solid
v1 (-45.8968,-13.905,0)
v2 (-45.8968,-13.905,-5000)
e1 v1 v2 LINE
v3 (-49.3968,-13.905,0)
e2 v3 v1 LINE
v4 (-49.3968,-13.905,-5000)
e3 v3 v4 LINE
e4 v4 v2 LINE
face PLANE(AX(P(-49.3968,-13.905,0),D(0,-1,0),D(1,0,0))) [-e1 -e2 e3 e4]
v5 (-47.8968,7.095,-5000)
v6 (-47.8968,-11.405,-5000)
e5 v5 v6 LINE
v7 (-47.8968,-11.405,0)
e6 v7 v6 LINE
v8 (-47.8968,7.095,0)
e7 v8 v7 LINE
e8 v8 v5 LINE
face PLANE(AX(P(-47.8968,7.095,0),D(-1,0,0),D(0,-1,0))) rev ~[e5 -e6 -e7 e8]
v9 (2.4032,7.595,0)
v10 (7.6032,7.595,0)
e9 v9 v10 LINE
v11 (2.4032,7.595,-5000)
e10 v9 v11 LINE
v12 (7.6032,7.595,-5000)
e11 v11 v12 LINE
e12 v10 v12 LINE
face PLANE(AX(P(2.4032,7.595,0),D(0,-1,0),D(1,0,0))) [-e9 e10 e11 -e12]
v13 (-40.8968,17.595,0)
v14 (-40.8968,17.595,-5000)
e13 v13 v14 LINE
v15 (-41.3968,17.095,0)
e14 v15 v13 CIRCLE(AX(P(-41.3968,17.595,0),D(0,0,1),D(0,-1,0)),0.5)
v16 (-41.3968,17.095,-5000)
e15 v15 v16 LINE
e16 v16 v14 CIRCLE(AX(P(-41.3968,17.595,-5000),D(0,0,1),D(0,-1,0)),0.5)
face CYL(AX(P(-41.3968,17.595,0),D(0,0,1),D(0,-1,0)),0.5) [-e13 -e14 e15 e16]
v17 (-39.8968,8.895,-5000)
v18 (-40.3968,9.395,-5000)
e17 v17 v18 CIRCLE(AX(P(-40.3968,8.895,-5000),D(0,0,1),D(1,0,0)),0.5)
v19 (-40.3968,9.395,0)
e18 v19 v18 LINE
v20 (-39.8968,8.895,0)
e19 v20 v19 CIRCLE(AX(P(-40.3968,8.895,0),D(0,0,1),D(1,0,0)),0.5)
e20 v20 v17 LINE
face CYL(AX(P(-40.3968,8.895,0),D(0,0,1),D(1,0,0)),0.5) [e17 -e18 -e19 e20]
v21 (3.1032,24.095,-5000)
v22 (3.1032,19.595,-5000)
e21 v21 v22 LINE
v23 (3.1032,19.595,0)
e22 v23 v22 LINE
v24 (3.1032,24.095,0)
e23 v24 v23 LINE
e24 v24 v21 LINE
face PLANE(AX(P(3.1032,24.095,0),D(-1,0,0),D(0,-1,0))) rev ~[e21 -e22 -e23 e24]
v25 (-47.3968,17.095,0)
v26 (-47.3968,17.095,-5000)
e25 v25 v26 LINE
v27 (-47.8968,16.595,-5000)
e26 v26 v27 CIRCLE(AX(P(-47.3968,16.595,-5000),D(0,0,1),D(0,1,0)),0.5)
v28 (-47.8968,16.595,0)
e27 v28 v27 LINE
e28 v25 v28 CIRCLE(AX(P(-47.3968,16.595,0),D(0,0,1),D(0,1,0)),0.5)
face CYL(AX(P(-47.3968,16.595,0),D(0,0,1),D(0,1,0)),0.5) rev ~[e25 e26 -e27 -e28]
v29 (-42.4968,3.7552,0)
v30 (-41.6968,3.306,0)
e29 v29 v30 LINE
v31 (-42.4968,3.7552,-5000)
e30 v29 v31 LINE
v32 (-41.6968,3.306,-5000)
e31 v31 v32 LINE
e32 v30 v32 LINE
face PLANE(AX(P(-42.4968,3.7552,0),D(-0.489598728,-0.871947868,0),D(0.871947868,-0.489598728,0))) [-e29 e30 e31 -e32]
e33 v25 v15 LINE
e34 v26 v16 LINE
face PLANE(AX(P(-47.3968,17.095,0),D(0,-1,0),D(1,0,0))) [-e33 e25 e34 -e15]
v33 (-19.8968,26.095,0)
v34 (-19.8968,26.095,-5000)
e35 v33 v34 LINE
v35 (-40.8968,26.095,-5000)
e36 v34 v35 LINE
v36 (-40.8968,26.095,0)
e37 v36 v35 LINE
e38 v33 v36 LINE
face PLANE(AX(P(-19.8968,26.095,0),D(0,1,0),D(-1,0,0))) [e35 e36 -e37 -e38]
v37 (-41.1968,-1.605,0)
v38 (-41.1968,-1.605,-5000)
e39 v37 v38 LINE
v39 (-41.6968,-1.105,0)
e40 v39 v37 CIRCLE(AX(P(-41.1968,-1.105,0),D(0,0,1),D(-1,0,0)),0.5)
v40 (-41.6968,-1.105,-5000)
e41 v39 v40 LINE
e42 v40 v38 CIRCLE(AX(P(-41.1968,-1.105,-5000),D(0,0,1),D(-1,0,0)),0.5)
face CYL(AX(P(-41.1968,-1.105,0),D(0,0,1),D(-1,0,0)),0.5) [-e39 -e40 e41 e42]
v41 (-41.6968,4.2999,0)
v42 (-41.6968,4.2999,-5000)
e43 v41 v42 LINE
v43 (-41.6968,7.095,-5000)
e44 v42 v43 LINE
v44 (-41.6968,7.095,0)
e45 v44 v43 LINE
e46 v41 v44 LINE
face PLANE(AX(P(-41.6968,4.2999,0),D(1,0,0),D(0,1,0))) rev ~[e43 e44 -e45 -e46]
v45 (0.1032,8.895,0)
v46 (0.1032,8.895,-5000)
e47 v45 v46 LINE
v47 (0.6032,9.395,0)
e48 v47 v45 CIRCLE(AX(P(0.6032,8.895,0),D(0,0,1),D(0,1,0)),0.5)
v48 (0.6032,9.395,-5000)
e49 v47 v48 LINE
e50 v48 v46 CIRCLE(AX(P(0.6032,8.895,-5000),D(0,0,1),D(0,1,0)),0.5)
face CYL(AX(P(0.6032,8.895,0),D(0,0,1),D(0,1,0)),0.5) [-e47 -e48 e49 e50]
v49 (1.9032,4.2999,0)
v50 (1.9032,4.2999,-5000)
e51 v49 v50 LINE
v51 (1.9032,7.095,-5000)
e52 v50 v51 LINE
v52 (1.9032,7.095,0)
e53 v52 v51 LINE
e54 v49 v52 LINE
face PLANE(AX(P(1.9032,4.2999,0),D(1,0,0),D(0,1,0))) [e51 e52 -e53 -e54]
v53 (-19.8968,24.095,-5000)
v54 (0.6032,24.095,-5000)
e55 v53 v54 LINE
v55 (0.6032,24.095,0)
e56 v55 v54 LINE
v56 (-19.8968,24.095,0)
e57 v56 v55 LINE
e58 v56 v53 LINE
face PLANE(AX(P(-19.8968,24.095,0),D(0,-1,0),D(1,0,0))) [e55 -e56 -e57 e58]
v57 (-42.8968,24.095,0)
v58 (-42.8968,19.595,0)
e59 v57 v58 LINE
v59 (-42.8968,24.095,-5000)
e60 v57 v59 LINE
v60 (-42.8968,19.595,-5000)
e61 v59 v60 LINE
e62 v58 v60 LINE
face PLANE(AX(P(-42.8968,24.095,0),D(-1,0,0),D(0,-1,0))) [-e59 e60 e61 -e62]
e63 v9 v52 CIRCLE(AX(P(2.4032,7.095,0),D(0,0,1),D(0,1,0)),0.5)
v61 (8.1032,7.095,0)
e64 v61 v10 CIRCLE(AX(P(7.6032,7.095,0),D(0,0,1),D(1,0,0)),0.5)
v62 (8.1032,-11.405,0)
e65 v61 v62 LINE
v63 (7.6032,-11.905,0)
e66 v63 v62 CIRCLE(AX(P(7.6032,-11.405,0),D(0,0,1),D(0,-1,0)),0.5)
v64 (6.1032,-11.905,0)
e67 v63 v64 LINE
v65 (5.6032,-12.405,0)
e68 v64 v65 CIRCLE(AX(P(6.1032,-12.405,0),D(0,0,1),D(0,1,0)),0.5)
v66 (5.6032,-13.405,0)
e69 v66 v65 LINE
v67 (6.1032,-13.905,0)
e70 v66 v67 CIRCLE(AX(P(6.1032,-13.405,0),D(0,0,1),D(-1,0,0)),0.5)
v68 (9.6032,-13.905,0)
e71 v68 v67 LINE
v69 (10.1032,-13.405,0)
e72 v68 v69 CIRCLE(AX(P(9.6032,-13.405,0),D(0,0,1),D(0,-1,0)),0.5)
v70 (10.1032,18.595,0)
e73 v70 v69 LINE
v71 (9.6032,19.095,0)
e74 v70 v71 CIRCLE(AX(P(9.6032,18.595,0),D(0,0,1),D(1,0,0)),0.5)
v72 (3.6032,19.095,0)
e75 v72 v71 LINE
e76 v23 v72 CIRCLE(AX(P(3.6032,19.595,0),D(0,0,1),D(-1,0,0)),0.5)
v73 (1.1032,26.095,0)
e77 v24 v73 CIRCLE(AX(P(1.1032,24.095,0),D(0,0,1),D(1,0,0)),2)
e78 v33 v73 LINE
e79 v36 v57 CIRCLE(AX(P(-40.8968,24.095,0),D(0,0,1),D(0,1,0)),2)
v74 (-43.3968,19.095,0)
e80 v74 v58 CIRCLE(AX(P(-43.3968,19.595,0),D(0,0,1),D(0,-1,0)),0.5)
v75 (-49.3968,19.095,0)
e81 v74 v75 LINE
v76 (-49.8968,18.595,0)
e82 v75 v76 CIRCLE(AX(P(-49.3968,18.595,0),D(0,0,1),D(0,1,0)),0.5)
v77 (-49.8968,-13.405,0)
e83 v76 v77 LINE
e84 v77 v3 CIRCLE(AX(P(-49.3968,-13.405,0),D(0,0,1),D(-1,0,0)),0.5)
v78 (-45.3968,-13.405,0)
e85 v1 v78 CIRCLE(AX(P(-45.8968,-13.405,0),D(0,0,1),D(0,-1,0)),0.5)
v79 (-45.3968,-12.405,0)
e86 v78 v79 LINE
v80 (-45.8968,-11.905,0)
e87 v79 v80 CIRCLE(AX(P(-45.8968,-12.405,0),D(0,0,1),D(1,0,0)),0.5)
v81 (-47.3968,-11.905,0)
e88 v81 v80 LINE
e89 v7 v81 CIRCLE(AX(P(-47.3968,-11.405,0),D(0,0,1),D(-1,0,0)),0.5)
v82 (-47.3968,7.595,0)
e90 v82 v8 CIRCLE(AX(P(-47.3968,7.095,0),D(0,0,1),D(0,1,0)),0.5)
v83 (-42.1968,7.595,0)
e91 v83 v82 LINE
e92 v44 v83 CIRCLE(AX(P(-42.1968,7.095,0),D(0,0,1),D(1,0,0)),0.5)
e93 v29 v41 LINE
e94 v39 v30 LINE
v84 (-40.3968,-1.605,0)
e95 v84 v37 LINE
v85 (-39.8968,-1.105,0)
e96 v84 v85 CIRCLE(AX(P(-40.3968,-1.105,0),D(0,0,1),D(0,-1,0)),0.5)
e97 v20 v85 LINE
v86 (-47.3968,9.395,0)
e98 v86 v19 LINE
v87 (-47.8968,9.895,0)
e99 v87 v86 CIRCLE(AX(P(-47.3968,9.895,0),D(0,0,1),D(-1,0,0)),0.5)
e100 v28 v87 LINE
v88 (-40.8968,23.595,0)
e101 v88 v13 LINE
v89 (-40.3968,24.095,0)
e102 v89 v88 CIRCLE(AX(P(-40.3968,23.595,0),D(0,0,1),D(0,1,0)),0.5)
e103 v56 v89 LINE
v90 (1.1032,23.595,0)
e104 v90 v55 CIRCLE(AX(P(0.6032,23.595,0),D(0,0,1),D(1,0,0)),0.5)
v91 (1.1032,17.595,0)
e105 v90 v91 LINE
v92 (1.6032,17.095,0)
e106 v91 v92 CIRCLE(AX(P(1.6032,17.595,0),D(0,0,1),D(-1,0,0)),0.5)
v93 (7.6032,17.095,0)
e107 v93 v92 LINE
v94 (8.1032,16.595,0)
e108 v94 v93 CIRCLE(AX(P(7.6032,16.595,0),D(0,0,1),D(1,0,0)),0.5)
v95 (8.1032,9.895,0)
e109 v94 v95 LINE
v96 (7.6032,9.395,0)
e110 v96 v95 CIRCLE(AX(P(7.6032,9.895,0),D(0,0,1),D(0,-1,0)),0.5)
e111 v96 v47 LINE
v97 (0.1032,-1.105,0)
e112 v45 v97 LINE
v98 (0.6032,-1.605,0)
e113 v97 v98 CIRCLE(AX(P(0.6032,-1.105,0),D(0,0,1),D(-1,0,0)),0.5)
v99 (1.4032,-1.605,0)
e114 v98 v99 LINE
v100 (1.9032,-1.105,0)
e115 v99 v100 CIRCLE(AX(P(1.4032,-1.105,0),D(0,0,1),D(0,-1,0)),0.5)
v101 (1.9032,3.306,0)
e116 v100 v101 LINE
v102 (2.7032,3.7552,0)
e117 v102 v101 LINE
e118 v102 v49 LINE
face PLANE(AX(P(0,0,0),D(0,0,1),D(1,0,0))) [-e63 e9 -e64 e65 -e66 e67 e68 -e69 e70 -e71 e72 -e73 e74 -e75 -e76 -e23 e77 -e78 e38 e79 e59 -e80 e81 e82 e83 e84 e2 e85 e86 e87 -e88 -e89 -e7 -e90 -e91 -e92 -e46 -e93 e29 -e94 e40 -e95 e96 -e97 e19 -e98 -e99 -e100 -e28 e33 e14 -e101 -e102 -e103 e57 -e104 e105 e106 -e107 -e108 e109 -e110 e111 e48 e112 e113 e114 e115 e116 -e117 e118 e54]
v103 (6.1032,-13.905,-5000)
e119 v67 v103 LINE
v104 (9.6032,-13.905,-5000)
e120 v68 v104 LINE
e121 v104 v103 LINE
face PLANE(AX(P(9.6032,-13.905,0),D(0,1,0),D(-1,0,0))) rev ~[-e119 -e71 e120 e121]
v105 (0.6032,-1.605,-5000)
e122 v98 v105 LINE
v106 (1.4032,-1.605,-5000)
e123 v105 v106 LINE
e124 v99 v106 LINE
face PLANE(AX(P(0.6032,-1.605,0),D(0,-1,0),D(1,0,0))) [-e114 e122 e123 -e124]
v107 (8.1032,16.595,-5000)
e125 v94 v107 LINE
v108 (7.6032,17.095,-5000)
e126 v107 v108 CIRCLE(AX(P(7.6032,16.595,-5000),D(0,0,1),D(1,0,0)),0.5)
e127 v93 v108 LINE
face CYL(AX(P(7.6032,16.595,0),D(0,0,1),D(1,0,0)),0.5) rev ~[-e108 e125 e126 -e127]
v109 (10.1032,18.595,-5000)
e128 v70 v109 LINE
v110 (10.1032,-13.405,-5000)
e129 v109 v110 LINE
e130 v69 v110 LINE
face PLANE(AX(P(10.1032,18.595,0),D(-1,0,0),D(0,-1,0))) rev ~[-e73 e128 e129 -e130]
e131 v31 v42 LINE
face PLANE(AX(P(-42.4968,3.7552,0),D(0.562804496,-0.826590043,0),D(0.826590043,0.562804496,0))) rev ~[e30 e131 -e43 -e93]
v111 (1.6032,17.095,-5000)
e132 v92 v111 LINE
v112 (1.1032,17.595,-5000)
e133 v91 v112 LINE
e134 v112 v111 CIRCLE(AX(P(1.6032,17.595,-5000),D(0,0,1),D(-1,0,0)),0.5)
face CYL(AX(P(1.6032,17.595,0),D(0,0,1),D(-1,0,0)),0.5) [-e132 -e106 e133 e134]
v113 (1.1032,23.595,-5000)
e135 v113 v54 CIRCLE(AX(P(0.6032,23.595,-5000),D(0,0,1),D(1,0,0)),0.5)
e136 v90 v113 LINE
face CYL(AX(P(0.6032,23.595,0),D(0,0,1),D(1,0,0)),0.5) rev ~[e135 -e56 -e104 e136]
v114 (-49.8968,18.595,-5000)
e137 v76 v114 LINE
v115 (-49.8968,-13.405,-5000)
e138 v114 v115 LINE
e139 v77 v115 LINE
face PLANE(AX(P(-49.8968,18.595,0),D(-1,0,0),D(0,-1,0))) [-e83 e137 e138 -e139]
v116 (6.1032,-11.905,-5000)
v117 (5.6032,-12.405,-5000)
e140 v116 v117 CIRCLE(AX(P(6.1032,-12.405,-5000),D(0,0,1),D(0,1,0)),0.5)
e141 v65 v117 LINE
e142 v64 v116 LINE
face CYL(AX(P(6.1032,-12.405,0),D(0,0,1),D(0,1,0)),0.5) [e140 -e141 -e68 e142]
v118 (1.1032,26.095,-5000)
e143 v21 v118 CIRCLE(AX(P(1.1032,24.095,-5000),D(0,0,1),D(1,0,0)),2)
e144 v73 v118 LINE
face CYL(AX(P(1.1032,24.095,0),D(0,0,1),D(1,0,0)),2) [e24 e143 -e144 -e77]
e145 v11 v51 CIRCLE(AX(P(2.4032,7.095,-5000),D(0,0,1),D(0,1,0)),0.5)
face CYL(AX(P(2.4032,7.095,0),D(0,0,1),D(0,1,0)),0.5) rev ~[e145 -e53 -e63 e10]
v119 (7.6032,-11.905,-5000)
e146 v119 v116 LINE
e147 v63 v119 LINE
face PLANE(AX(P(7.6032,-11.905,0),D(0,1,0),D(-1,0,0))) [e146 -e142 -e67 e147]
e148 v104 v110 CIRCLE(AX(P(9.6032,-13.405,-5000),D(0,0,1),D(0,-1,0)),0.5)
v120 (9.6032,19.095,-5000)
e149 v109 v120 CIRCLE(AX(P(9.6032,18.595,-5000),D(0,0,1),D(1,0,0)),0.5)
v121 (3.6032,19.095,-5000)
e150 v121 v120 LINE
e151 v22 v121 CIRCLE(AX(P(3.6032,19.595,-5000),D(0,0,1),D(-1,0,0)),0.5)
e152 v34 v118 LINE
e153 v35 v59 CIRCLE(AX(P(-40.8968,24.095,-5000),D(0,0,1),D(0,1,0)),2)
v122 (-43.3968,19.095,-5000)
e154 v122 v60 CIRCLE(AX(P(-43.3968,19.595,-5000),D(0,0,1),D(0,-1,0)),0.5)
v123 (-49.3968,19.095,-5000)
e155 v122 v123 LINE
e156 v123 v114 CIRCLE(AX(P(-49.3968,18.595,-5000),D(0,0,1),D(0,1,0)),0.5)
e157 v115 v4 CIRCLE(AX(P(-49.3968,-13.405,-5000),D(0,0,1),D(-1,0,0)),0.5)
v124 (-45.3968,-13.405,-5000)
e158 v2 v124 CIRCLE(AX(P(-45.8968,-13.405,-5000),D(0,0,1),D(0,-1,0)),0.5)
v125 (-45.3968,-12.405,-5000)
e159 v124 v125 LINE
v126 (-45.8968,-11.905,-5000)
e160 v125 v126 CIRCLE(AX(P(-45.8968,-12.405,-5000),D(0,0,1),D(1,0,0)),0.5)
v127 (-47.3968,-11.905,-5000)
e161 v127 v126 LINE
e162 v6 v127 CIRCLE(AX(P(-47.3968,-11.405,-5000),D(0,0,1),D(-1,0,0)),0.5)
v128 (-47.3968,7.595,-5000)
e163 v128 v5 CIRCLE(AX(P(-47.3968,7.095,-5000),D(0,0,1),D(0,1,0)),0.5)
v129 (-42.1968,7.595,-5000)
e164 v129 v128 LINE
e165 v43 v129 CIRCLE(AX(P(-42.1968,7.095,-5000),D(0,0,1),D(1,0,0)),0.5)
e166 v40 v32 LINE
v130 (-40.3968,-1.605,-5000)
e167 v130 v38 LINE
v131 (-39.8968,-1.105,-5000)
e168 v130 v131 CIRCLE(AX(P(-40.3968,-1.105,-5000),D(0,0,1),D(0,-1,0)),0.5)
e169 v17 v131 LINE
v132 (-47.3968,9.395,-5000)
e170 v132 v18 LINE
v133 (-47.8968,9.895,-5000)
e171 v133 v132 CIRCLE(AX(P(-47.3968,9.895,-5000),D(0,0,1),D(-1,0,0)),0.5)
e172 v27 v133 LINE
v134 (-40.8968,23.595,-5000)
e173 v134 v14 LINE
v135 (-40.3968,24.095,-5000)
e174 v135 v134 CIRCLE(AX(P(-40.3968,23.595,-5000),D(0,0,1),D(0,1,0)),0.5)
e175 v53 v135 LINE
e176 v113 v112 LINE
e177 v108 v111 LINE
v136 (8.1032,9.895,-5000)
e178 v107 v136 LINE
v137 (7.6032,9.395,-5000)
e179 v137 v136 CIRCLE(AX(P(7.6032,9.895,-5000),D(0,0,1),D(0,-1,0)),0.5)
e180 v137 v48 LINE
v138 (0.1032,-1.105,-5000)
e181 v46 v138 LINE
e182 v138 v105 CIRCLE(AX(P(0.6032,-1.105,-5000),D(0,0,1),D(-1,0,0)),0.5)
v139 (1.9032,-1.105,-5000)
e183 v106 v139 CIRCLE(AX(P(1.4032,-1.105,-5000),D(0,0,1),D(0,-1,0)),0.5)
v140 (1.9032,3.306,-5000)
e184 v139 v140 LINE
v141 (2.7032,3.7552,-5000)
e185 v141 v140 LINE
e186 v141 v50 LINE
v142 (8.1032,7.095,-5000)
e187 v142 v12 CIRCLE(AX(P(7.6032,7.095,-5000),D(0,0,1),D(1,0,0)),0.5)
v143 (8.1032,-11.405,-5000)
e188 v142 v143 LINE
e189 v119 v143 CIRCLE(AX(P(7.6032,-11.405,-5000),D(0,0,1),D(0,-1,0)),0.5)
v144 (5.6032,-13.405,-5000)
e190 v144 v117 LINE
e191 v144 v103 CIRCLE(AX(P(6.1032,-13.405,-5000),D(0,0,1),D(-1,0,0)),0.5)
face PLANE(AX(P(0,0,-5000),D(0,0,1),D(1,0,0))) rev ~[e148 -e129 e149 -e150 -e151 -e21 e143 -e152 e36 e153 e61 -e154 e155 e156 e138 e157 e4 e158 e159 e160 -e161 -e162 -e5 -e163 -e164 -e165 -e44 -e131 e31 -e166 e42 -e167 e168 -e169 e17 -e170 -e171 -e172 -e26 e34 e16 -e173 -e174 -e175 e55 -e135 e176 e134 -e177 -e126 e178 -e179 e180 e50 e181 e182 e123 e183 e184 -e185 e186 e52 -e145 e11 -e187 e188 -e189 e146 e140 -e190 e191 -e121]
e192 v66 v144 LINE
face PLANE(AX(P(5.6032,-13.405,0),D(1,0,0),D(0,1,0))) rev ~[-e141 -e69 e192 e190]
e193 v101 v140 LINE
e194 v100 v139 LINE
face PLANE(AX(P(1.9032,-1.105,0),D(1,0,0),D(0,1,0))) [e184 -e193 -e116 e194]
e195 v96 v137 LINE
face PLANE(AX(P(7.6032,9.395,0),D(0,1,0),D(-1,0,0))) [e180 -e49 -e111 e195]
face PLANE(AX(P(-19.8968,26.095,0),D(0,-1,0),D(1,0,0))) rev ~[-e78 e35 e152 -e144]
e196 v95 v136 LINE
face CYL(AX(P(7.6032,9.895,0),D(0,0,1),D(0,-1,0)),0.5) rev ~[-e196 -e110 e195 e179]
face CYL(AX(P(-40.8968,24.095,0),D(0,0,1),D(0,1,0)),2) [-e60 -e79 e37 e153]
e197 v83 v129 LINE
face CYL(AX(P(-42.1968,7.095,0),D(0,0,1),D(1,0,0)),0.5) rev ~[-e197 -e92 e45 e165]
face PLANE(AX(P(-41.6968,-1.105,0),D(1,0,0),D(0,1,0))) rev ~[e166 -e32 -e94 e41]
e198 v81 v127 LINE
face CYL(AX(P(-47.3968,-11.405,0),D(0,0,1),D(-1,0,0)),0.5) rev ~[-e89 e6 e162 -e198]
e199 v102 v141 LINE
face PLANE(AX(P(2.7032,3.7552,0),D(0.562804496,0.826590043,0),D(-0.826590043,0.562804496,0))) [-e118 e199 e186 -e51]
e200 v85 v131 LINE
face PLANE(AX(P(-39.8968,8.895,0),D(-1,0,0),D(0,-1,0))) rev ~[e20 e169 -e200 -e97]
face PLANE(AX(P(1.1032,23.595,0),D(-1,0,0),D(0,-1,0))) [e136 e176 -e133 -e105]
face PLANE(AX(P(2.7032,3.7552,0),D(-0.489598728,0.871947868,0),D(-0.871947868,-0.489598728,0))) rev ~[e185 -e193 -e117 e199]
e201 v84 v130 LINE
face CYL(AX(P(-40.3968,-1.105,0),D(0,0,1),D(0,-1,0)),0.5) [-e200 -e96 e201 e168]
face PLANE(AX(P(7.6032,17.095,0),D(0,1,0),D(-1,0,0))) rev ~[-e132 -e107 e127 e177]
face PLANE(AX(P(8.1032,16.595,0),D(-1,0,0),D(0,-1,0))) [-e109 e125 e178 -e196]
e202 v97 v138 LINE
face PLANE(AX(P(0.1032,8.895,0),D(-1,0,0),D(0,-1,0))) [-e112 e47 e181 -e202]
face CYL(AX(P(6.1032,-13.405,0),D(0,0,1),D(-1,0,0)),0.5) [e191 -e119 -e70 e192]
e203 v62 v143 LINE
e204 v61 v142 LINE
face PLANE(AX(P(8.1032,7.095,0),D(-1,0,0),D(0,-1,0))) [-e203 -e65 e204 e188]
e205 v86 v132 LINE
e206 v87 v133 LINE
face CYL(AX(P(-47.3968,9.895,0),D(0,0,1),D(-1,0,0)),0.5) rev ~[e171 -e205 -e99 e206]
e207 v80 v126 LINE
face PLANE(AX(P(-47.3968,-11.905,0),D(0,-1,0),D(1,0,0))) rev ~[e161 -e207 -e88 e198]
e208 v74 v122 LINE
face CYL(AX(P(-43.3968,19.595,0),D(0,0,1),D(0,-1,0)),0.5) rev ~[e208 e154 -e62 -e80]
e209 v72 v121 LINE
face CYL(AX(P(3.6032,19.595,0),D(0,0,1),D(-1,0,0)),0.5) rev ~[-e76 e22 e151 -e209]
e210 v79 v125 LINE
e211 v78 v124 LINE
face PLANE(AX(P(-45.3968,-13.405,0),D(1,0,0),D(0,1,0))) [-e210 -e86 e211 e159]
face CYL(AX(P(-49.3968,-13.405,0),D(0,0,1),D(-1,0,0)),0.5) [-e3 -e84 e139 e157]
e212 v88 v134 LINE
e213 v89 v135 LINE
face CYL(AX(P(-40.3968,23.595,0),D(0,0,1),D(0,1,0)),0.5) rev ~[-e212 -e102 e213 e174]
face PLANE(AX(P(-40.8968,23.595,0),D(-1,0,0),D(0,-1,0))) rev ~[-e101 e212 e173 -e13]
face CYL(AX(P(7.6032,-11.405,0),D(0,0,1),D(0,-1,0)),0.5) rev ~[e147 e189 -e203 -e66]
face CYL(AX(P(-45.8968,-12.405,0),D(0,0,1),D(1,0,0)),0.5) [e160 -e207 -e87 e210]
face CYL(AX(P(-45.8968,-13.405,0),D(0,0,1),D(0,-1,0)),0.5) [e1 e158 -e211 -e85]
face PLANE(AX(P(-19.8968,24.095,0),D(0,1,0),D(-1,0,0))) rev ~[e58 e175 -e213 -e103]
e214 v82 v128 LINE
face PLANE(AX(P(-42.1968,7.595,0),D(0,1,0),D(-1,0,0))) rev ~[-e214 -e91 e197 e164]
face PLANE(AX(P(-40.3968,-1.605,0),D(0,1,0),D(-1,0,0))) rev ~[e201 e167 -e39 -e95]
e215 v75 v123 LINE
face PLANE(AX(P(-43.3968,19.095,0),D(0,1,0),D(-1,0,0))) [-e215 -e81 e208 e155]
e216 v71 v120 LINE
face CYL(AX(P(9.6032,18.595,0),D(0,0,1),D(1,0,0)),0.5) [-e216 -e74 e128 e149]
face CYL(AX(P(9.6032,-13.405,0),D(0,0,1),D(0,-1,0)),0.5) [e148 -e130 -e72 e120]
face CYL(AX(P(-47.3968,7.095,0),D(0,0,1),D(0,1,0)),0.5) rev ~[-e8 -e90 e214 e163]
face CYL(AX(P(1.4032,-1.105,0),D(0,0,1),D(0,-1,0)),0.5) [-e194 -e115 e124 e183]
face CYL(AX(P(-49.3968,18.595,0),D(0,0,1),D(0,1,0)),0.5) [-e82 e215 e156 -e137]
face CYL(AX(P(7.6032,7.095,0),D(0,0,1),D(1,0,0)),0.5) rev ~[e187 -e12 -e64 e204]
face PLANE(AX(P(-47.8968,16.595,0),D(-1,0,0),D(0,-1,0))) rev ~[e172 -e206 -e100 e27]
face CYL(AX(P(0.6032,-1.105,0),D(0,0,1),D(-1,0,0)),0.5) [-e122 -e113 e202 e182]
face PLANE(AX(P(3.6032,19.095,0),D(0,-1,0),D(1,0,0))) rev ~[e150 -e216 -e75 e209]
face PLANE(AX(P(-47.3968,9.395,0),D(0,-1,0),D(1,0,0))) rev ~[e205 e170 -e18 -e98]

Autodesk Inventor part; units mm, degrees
ref_plane "YZ Plane" through (0, 0, 0) normal (1, 0, 0) x (0, 1, 0)
ref_plane "XZ Plane" through (0, 0, 0) normal (0, 1, 0) x (-1, 0, 0)
ref_plane "XY Plane" through (0, 0, 0) normal (0, 0, 1) x (1, 0, 0)
sketch "Sketch1" plane through (0, 0, 0) normal (0, 0, 1) x (1, 0, 0)
  line L0 (-19.8968, 26.095) -> (1.1032, 26.095)
  line L1 (10.1032, 18.595) -> (10.1032, -13.405)
  line L2 (9.6032, -13.905) -> (6.1032, -13.905)
  line L3 (-19.8968, 24.095) -> (0.6032, 24.095)
  line L4 (7.6032, -11.905) -> (6.1032, -11.905)
  line L5 (3.1032, 24.095) -> (3.1032, 19.595)
  line L6 (3.6032, 19.095) -> (9.6032, 19.095)
  line L7 (-19.8968, 31.6782) -> (-19.8968, -20.1233) construction
  line L8 (1.1032, 23.595) -> (1.1032, 17.595)
  line L9 (1.1032, 17.095) -> (1.1032, 17.095)
  line L10 (7.6032, 17.095) -> (1.6032, 17.095)
  line L11 (7.6032, 9.395) -> (0.6032, 9.395)
  line L12 (0.1032, 8.895) -> (0.1032, -1.105)
  line L13 (0.6032, -1.605) -> (1.4032, -1.605)
  line L14 (2.4032, 7.595) -> (7.6032, 7.595)
  line L15 (2.7032, 3.7552) -> (1.9032, 4.2999)
  line L16 (2.7032, 3.7552) -> (1.9032, 3.306)
  line L17 (1.9032, -1.105) -> (1.9032, 3.306)
  line L18 (1.9032, 4.2999) -> (1.9032, 7.095)
  line L19 (5.6032, -13.405) -> (5.6032, -12.405)
  line L20 (8.1032, 16.595) -> (8.1032, 9.895)
  line L21 (8.1032, 7.095) -> (8.1032, -11.405)
  arc A0 (3.1032, 24.095) -> (1.1032, 26.095) centre (1.1032, 24.095) ccw
  arc A1 (1.1032, 17.595) -> (1.6032, 17.095) centre (1.6032, 17.595) ccw
  arc A2 (3.1032, 19.595) -> (3.6032, 19.095) centre (3.6032, 19.595) ccw
  arc A3 (10.1032, 18.595) -> (9.6032, 19.095) centre (9.6032, 18.595) ccw
  arc A4 (7.6032, 9.395) -> (8.1032, 9.895) centre (7.6032, 9.895) ccw
  arc A5 (8.1032, 7.095) -> (7.6032, 7.595) centre (7.6032, 7.095) ccw
  arc A6 (0.6032, 9.395) -> (0.1032, 8.895) centre (0.6032, 8.895) ccw
  arc A7 (0.1032, -1.105) -> (0.6032, -1.605) centre (0.6032, -1.105) ccw
  arc A8 (1.4032, -1.605) -> (1.9032, -1.105) centre (1.4032, -1.105) ccw
  arc A9 (2.4032, 7.595) -> (1.9032, 7.095) centre (2.4032, 7.095) ccw
  arc A10 (8.1032, 16.595) -> (7.6032, 17.095) centre (7.6032, 16.595) ccw
  arc A11 (7.6032, -11.905) -> (8.1032, -11.405) centre (7.6032, -11.405) ccw
  arc A12 (6.1032, -11.905) -> (5.6032, -12.405) centre (6.1032, -12.405) ccw
  arc A13 (5.6032, -13.405) -> (6.1032, -13.905) centre (6.1032, -13.405) ccw
  arc A14 (9.6032, -13.905) -> (10.1032, -13.405) centre (9.6032, -13.405) ccw
  arc A15 (1.1032, 23.595) -> (0.6032, 24.095) centre (0.6032, 23.595) ccw
  line L22 (-19.8968, 26.095) -> (-40.8968, 26.095)
  line L23 (-49.8968, 18.595) -> (-49.8968, -13.405)
  line L24 (-49.3968, -13.905) -> (-45.8968, -13.905)
  line L25 (-19.8968, 24.095) -> (-40.3968, 24.095)
  line L26 (-47.3968, -11.905) -> (-45.8968, -11.905)
  line L27 (-42.8968, 24.095) -> (-42.8968, 19.595)
  line L28 (-43.3968, 19.095) -> (-49.3968, 19.095)
  line L29 (-40.8968, 23.595) -> (-40.8968, 17.595)
  line L30 (-40.8968, 17.095) -> (-40.8968, 17.095)
  line L31 (-47.3968, 17.095) -> (-41.3968, 17.095)
  line L32 (-47.3968, 9.395) -> (-40.3968, 9.395)
  line L33 (-39.8968, 8.895) -> (-39.8968, -1.105)
  line L34 (-40.3968, -1.605) -> (-41.1968, -1.605)
  line L35 (-42.1968, 7.595) -> (-47.3968, 7.595)
  line L36 (-42.4968, 3.7552) -> (-41.6968, 4.2999)
  line L37 (-42.4968, 3.7552) -> (-41.6968, 3.306)
  line L38 (-41.6968, -1.105) -> (-41.6968, 3.306)
  line L39 (-41.6968, 4.2999) -> (-41.6968, 7.095)
  line L40 (-45.3968, -13.405) -> (-45.3968, -12.405)
  line L41 (-47.8968, 16.595) -> (-47.8968, 9.895)
  line L42 (-47.8968, 7.095) -> (-47.8968, -11.405)
  arc A16 (-40.8968, 26.095) -> (-42.8968, 24.095) centre (-40.8968, 24.095) ccw
  arc A17 (-41.3968, 17.095) -> (-40.8968, 17.595) centre (-41.3968, 17.595) ccw
  arc A18 (-43.3968, 19.095) -> (-42.8968, 19.595) centre (-43.3968, 19.595) ccw
  arc A19 (-49.3968, 19.095) -> (-49.8968, 18.595) centre (-49.3968, 18.595) ccw
  arc A20 (-47.8968, 9.895) -> (-47.3968, 9.395) centre (-47.3968, 9.895) ccw
  arc A21 (-47.3968, 7.595) -> (-47.8968, 7.095) centre (-47.3968, 7.095) ccw
  arc A22 (-39.8968, 8.895) -> (-40.3968, 9.395) centre (-40.3968, 8.895) ccw
  arc A23 (-40.3968, -1.605) -> (-39.8968, -1.105) centre (-40.3968, -1.105) ccw
  arc A24 (-41.6968, -1.105) -> (-41.1968, -1.605) centre (-41.1968, -1.105) ccw
  arc A25 (-41.6968, 7.095) -> (-42.1968, 7.595) centre (-42.1968, 7.095) ccw
  arc A26 (-47.3968, 17.095) -> (-47.8968, 16.595) centre (-47.3968, 16.595) ccw
  arc A27 (-47.8968, -11.405) -> (-47.3968, -11.905) centre (-47.3968, -11.405) ccw
  arc A28 (-45.3968, -12.405) -> (-45.8968, -11.905) centre (-45.8968, -12.405) ccw
  arc A29 (-45.8968, -13.905) -> (-45.3968, -13.405) centre (-45.8968, -13.405) ccw
  arc A30 (-49.8968, -13.405) -> (-49.3968, -13.905) centre (-49.3968, -13.405) ccw
  arc A31 (-40.3968, 24.095) -> (-40.8968, 23.595) centre (-40.3968, 23.595) ccw
  point P0 (0, 0)
  point P1 (6.6032, 19.095)
  point P2 (4.1032, 9.395)
  point P3 (1.0032, -1.605)
  point P4 (5.6032, -12.905)
  point P5 (7.8532, -13.905)
  point P6 (1.9032, 5.6974)
  point P7 (-39.7937, 0)
  point P8 (-46.3968, 19.095)
  point P9 (-43.8968, 9.395)
  point P10 (-40.7968, -1.605)
  point P11 (-45.3968, -12.905)
  point P12 (-47.6468, -13.905)
  point P13 (-41.6968, 5.6974)
  dimension "d4" = 7
  dimension "d5" = 7
  dimension "d6" = 2
  dimension "d7" = 2
  dimension "d9" = 2
  dimension "d11" = 7.7
  dimension "d12" = 1.8
  dimension "d14" = 11
  dimension "d16" = 4.5
  dimension "d17" = 2
  dimension "d20" = 0.5
  dimension "d22" = 40
  dimension "d23" = 1.8
  dimension "d24" = 60
extrude "Extrusion1" add sketch "Sketch1" against normal blind 5000
properties part number "HD - 402 PERFIL ALUMINO - PASAMANOS RECTANGULAR"
